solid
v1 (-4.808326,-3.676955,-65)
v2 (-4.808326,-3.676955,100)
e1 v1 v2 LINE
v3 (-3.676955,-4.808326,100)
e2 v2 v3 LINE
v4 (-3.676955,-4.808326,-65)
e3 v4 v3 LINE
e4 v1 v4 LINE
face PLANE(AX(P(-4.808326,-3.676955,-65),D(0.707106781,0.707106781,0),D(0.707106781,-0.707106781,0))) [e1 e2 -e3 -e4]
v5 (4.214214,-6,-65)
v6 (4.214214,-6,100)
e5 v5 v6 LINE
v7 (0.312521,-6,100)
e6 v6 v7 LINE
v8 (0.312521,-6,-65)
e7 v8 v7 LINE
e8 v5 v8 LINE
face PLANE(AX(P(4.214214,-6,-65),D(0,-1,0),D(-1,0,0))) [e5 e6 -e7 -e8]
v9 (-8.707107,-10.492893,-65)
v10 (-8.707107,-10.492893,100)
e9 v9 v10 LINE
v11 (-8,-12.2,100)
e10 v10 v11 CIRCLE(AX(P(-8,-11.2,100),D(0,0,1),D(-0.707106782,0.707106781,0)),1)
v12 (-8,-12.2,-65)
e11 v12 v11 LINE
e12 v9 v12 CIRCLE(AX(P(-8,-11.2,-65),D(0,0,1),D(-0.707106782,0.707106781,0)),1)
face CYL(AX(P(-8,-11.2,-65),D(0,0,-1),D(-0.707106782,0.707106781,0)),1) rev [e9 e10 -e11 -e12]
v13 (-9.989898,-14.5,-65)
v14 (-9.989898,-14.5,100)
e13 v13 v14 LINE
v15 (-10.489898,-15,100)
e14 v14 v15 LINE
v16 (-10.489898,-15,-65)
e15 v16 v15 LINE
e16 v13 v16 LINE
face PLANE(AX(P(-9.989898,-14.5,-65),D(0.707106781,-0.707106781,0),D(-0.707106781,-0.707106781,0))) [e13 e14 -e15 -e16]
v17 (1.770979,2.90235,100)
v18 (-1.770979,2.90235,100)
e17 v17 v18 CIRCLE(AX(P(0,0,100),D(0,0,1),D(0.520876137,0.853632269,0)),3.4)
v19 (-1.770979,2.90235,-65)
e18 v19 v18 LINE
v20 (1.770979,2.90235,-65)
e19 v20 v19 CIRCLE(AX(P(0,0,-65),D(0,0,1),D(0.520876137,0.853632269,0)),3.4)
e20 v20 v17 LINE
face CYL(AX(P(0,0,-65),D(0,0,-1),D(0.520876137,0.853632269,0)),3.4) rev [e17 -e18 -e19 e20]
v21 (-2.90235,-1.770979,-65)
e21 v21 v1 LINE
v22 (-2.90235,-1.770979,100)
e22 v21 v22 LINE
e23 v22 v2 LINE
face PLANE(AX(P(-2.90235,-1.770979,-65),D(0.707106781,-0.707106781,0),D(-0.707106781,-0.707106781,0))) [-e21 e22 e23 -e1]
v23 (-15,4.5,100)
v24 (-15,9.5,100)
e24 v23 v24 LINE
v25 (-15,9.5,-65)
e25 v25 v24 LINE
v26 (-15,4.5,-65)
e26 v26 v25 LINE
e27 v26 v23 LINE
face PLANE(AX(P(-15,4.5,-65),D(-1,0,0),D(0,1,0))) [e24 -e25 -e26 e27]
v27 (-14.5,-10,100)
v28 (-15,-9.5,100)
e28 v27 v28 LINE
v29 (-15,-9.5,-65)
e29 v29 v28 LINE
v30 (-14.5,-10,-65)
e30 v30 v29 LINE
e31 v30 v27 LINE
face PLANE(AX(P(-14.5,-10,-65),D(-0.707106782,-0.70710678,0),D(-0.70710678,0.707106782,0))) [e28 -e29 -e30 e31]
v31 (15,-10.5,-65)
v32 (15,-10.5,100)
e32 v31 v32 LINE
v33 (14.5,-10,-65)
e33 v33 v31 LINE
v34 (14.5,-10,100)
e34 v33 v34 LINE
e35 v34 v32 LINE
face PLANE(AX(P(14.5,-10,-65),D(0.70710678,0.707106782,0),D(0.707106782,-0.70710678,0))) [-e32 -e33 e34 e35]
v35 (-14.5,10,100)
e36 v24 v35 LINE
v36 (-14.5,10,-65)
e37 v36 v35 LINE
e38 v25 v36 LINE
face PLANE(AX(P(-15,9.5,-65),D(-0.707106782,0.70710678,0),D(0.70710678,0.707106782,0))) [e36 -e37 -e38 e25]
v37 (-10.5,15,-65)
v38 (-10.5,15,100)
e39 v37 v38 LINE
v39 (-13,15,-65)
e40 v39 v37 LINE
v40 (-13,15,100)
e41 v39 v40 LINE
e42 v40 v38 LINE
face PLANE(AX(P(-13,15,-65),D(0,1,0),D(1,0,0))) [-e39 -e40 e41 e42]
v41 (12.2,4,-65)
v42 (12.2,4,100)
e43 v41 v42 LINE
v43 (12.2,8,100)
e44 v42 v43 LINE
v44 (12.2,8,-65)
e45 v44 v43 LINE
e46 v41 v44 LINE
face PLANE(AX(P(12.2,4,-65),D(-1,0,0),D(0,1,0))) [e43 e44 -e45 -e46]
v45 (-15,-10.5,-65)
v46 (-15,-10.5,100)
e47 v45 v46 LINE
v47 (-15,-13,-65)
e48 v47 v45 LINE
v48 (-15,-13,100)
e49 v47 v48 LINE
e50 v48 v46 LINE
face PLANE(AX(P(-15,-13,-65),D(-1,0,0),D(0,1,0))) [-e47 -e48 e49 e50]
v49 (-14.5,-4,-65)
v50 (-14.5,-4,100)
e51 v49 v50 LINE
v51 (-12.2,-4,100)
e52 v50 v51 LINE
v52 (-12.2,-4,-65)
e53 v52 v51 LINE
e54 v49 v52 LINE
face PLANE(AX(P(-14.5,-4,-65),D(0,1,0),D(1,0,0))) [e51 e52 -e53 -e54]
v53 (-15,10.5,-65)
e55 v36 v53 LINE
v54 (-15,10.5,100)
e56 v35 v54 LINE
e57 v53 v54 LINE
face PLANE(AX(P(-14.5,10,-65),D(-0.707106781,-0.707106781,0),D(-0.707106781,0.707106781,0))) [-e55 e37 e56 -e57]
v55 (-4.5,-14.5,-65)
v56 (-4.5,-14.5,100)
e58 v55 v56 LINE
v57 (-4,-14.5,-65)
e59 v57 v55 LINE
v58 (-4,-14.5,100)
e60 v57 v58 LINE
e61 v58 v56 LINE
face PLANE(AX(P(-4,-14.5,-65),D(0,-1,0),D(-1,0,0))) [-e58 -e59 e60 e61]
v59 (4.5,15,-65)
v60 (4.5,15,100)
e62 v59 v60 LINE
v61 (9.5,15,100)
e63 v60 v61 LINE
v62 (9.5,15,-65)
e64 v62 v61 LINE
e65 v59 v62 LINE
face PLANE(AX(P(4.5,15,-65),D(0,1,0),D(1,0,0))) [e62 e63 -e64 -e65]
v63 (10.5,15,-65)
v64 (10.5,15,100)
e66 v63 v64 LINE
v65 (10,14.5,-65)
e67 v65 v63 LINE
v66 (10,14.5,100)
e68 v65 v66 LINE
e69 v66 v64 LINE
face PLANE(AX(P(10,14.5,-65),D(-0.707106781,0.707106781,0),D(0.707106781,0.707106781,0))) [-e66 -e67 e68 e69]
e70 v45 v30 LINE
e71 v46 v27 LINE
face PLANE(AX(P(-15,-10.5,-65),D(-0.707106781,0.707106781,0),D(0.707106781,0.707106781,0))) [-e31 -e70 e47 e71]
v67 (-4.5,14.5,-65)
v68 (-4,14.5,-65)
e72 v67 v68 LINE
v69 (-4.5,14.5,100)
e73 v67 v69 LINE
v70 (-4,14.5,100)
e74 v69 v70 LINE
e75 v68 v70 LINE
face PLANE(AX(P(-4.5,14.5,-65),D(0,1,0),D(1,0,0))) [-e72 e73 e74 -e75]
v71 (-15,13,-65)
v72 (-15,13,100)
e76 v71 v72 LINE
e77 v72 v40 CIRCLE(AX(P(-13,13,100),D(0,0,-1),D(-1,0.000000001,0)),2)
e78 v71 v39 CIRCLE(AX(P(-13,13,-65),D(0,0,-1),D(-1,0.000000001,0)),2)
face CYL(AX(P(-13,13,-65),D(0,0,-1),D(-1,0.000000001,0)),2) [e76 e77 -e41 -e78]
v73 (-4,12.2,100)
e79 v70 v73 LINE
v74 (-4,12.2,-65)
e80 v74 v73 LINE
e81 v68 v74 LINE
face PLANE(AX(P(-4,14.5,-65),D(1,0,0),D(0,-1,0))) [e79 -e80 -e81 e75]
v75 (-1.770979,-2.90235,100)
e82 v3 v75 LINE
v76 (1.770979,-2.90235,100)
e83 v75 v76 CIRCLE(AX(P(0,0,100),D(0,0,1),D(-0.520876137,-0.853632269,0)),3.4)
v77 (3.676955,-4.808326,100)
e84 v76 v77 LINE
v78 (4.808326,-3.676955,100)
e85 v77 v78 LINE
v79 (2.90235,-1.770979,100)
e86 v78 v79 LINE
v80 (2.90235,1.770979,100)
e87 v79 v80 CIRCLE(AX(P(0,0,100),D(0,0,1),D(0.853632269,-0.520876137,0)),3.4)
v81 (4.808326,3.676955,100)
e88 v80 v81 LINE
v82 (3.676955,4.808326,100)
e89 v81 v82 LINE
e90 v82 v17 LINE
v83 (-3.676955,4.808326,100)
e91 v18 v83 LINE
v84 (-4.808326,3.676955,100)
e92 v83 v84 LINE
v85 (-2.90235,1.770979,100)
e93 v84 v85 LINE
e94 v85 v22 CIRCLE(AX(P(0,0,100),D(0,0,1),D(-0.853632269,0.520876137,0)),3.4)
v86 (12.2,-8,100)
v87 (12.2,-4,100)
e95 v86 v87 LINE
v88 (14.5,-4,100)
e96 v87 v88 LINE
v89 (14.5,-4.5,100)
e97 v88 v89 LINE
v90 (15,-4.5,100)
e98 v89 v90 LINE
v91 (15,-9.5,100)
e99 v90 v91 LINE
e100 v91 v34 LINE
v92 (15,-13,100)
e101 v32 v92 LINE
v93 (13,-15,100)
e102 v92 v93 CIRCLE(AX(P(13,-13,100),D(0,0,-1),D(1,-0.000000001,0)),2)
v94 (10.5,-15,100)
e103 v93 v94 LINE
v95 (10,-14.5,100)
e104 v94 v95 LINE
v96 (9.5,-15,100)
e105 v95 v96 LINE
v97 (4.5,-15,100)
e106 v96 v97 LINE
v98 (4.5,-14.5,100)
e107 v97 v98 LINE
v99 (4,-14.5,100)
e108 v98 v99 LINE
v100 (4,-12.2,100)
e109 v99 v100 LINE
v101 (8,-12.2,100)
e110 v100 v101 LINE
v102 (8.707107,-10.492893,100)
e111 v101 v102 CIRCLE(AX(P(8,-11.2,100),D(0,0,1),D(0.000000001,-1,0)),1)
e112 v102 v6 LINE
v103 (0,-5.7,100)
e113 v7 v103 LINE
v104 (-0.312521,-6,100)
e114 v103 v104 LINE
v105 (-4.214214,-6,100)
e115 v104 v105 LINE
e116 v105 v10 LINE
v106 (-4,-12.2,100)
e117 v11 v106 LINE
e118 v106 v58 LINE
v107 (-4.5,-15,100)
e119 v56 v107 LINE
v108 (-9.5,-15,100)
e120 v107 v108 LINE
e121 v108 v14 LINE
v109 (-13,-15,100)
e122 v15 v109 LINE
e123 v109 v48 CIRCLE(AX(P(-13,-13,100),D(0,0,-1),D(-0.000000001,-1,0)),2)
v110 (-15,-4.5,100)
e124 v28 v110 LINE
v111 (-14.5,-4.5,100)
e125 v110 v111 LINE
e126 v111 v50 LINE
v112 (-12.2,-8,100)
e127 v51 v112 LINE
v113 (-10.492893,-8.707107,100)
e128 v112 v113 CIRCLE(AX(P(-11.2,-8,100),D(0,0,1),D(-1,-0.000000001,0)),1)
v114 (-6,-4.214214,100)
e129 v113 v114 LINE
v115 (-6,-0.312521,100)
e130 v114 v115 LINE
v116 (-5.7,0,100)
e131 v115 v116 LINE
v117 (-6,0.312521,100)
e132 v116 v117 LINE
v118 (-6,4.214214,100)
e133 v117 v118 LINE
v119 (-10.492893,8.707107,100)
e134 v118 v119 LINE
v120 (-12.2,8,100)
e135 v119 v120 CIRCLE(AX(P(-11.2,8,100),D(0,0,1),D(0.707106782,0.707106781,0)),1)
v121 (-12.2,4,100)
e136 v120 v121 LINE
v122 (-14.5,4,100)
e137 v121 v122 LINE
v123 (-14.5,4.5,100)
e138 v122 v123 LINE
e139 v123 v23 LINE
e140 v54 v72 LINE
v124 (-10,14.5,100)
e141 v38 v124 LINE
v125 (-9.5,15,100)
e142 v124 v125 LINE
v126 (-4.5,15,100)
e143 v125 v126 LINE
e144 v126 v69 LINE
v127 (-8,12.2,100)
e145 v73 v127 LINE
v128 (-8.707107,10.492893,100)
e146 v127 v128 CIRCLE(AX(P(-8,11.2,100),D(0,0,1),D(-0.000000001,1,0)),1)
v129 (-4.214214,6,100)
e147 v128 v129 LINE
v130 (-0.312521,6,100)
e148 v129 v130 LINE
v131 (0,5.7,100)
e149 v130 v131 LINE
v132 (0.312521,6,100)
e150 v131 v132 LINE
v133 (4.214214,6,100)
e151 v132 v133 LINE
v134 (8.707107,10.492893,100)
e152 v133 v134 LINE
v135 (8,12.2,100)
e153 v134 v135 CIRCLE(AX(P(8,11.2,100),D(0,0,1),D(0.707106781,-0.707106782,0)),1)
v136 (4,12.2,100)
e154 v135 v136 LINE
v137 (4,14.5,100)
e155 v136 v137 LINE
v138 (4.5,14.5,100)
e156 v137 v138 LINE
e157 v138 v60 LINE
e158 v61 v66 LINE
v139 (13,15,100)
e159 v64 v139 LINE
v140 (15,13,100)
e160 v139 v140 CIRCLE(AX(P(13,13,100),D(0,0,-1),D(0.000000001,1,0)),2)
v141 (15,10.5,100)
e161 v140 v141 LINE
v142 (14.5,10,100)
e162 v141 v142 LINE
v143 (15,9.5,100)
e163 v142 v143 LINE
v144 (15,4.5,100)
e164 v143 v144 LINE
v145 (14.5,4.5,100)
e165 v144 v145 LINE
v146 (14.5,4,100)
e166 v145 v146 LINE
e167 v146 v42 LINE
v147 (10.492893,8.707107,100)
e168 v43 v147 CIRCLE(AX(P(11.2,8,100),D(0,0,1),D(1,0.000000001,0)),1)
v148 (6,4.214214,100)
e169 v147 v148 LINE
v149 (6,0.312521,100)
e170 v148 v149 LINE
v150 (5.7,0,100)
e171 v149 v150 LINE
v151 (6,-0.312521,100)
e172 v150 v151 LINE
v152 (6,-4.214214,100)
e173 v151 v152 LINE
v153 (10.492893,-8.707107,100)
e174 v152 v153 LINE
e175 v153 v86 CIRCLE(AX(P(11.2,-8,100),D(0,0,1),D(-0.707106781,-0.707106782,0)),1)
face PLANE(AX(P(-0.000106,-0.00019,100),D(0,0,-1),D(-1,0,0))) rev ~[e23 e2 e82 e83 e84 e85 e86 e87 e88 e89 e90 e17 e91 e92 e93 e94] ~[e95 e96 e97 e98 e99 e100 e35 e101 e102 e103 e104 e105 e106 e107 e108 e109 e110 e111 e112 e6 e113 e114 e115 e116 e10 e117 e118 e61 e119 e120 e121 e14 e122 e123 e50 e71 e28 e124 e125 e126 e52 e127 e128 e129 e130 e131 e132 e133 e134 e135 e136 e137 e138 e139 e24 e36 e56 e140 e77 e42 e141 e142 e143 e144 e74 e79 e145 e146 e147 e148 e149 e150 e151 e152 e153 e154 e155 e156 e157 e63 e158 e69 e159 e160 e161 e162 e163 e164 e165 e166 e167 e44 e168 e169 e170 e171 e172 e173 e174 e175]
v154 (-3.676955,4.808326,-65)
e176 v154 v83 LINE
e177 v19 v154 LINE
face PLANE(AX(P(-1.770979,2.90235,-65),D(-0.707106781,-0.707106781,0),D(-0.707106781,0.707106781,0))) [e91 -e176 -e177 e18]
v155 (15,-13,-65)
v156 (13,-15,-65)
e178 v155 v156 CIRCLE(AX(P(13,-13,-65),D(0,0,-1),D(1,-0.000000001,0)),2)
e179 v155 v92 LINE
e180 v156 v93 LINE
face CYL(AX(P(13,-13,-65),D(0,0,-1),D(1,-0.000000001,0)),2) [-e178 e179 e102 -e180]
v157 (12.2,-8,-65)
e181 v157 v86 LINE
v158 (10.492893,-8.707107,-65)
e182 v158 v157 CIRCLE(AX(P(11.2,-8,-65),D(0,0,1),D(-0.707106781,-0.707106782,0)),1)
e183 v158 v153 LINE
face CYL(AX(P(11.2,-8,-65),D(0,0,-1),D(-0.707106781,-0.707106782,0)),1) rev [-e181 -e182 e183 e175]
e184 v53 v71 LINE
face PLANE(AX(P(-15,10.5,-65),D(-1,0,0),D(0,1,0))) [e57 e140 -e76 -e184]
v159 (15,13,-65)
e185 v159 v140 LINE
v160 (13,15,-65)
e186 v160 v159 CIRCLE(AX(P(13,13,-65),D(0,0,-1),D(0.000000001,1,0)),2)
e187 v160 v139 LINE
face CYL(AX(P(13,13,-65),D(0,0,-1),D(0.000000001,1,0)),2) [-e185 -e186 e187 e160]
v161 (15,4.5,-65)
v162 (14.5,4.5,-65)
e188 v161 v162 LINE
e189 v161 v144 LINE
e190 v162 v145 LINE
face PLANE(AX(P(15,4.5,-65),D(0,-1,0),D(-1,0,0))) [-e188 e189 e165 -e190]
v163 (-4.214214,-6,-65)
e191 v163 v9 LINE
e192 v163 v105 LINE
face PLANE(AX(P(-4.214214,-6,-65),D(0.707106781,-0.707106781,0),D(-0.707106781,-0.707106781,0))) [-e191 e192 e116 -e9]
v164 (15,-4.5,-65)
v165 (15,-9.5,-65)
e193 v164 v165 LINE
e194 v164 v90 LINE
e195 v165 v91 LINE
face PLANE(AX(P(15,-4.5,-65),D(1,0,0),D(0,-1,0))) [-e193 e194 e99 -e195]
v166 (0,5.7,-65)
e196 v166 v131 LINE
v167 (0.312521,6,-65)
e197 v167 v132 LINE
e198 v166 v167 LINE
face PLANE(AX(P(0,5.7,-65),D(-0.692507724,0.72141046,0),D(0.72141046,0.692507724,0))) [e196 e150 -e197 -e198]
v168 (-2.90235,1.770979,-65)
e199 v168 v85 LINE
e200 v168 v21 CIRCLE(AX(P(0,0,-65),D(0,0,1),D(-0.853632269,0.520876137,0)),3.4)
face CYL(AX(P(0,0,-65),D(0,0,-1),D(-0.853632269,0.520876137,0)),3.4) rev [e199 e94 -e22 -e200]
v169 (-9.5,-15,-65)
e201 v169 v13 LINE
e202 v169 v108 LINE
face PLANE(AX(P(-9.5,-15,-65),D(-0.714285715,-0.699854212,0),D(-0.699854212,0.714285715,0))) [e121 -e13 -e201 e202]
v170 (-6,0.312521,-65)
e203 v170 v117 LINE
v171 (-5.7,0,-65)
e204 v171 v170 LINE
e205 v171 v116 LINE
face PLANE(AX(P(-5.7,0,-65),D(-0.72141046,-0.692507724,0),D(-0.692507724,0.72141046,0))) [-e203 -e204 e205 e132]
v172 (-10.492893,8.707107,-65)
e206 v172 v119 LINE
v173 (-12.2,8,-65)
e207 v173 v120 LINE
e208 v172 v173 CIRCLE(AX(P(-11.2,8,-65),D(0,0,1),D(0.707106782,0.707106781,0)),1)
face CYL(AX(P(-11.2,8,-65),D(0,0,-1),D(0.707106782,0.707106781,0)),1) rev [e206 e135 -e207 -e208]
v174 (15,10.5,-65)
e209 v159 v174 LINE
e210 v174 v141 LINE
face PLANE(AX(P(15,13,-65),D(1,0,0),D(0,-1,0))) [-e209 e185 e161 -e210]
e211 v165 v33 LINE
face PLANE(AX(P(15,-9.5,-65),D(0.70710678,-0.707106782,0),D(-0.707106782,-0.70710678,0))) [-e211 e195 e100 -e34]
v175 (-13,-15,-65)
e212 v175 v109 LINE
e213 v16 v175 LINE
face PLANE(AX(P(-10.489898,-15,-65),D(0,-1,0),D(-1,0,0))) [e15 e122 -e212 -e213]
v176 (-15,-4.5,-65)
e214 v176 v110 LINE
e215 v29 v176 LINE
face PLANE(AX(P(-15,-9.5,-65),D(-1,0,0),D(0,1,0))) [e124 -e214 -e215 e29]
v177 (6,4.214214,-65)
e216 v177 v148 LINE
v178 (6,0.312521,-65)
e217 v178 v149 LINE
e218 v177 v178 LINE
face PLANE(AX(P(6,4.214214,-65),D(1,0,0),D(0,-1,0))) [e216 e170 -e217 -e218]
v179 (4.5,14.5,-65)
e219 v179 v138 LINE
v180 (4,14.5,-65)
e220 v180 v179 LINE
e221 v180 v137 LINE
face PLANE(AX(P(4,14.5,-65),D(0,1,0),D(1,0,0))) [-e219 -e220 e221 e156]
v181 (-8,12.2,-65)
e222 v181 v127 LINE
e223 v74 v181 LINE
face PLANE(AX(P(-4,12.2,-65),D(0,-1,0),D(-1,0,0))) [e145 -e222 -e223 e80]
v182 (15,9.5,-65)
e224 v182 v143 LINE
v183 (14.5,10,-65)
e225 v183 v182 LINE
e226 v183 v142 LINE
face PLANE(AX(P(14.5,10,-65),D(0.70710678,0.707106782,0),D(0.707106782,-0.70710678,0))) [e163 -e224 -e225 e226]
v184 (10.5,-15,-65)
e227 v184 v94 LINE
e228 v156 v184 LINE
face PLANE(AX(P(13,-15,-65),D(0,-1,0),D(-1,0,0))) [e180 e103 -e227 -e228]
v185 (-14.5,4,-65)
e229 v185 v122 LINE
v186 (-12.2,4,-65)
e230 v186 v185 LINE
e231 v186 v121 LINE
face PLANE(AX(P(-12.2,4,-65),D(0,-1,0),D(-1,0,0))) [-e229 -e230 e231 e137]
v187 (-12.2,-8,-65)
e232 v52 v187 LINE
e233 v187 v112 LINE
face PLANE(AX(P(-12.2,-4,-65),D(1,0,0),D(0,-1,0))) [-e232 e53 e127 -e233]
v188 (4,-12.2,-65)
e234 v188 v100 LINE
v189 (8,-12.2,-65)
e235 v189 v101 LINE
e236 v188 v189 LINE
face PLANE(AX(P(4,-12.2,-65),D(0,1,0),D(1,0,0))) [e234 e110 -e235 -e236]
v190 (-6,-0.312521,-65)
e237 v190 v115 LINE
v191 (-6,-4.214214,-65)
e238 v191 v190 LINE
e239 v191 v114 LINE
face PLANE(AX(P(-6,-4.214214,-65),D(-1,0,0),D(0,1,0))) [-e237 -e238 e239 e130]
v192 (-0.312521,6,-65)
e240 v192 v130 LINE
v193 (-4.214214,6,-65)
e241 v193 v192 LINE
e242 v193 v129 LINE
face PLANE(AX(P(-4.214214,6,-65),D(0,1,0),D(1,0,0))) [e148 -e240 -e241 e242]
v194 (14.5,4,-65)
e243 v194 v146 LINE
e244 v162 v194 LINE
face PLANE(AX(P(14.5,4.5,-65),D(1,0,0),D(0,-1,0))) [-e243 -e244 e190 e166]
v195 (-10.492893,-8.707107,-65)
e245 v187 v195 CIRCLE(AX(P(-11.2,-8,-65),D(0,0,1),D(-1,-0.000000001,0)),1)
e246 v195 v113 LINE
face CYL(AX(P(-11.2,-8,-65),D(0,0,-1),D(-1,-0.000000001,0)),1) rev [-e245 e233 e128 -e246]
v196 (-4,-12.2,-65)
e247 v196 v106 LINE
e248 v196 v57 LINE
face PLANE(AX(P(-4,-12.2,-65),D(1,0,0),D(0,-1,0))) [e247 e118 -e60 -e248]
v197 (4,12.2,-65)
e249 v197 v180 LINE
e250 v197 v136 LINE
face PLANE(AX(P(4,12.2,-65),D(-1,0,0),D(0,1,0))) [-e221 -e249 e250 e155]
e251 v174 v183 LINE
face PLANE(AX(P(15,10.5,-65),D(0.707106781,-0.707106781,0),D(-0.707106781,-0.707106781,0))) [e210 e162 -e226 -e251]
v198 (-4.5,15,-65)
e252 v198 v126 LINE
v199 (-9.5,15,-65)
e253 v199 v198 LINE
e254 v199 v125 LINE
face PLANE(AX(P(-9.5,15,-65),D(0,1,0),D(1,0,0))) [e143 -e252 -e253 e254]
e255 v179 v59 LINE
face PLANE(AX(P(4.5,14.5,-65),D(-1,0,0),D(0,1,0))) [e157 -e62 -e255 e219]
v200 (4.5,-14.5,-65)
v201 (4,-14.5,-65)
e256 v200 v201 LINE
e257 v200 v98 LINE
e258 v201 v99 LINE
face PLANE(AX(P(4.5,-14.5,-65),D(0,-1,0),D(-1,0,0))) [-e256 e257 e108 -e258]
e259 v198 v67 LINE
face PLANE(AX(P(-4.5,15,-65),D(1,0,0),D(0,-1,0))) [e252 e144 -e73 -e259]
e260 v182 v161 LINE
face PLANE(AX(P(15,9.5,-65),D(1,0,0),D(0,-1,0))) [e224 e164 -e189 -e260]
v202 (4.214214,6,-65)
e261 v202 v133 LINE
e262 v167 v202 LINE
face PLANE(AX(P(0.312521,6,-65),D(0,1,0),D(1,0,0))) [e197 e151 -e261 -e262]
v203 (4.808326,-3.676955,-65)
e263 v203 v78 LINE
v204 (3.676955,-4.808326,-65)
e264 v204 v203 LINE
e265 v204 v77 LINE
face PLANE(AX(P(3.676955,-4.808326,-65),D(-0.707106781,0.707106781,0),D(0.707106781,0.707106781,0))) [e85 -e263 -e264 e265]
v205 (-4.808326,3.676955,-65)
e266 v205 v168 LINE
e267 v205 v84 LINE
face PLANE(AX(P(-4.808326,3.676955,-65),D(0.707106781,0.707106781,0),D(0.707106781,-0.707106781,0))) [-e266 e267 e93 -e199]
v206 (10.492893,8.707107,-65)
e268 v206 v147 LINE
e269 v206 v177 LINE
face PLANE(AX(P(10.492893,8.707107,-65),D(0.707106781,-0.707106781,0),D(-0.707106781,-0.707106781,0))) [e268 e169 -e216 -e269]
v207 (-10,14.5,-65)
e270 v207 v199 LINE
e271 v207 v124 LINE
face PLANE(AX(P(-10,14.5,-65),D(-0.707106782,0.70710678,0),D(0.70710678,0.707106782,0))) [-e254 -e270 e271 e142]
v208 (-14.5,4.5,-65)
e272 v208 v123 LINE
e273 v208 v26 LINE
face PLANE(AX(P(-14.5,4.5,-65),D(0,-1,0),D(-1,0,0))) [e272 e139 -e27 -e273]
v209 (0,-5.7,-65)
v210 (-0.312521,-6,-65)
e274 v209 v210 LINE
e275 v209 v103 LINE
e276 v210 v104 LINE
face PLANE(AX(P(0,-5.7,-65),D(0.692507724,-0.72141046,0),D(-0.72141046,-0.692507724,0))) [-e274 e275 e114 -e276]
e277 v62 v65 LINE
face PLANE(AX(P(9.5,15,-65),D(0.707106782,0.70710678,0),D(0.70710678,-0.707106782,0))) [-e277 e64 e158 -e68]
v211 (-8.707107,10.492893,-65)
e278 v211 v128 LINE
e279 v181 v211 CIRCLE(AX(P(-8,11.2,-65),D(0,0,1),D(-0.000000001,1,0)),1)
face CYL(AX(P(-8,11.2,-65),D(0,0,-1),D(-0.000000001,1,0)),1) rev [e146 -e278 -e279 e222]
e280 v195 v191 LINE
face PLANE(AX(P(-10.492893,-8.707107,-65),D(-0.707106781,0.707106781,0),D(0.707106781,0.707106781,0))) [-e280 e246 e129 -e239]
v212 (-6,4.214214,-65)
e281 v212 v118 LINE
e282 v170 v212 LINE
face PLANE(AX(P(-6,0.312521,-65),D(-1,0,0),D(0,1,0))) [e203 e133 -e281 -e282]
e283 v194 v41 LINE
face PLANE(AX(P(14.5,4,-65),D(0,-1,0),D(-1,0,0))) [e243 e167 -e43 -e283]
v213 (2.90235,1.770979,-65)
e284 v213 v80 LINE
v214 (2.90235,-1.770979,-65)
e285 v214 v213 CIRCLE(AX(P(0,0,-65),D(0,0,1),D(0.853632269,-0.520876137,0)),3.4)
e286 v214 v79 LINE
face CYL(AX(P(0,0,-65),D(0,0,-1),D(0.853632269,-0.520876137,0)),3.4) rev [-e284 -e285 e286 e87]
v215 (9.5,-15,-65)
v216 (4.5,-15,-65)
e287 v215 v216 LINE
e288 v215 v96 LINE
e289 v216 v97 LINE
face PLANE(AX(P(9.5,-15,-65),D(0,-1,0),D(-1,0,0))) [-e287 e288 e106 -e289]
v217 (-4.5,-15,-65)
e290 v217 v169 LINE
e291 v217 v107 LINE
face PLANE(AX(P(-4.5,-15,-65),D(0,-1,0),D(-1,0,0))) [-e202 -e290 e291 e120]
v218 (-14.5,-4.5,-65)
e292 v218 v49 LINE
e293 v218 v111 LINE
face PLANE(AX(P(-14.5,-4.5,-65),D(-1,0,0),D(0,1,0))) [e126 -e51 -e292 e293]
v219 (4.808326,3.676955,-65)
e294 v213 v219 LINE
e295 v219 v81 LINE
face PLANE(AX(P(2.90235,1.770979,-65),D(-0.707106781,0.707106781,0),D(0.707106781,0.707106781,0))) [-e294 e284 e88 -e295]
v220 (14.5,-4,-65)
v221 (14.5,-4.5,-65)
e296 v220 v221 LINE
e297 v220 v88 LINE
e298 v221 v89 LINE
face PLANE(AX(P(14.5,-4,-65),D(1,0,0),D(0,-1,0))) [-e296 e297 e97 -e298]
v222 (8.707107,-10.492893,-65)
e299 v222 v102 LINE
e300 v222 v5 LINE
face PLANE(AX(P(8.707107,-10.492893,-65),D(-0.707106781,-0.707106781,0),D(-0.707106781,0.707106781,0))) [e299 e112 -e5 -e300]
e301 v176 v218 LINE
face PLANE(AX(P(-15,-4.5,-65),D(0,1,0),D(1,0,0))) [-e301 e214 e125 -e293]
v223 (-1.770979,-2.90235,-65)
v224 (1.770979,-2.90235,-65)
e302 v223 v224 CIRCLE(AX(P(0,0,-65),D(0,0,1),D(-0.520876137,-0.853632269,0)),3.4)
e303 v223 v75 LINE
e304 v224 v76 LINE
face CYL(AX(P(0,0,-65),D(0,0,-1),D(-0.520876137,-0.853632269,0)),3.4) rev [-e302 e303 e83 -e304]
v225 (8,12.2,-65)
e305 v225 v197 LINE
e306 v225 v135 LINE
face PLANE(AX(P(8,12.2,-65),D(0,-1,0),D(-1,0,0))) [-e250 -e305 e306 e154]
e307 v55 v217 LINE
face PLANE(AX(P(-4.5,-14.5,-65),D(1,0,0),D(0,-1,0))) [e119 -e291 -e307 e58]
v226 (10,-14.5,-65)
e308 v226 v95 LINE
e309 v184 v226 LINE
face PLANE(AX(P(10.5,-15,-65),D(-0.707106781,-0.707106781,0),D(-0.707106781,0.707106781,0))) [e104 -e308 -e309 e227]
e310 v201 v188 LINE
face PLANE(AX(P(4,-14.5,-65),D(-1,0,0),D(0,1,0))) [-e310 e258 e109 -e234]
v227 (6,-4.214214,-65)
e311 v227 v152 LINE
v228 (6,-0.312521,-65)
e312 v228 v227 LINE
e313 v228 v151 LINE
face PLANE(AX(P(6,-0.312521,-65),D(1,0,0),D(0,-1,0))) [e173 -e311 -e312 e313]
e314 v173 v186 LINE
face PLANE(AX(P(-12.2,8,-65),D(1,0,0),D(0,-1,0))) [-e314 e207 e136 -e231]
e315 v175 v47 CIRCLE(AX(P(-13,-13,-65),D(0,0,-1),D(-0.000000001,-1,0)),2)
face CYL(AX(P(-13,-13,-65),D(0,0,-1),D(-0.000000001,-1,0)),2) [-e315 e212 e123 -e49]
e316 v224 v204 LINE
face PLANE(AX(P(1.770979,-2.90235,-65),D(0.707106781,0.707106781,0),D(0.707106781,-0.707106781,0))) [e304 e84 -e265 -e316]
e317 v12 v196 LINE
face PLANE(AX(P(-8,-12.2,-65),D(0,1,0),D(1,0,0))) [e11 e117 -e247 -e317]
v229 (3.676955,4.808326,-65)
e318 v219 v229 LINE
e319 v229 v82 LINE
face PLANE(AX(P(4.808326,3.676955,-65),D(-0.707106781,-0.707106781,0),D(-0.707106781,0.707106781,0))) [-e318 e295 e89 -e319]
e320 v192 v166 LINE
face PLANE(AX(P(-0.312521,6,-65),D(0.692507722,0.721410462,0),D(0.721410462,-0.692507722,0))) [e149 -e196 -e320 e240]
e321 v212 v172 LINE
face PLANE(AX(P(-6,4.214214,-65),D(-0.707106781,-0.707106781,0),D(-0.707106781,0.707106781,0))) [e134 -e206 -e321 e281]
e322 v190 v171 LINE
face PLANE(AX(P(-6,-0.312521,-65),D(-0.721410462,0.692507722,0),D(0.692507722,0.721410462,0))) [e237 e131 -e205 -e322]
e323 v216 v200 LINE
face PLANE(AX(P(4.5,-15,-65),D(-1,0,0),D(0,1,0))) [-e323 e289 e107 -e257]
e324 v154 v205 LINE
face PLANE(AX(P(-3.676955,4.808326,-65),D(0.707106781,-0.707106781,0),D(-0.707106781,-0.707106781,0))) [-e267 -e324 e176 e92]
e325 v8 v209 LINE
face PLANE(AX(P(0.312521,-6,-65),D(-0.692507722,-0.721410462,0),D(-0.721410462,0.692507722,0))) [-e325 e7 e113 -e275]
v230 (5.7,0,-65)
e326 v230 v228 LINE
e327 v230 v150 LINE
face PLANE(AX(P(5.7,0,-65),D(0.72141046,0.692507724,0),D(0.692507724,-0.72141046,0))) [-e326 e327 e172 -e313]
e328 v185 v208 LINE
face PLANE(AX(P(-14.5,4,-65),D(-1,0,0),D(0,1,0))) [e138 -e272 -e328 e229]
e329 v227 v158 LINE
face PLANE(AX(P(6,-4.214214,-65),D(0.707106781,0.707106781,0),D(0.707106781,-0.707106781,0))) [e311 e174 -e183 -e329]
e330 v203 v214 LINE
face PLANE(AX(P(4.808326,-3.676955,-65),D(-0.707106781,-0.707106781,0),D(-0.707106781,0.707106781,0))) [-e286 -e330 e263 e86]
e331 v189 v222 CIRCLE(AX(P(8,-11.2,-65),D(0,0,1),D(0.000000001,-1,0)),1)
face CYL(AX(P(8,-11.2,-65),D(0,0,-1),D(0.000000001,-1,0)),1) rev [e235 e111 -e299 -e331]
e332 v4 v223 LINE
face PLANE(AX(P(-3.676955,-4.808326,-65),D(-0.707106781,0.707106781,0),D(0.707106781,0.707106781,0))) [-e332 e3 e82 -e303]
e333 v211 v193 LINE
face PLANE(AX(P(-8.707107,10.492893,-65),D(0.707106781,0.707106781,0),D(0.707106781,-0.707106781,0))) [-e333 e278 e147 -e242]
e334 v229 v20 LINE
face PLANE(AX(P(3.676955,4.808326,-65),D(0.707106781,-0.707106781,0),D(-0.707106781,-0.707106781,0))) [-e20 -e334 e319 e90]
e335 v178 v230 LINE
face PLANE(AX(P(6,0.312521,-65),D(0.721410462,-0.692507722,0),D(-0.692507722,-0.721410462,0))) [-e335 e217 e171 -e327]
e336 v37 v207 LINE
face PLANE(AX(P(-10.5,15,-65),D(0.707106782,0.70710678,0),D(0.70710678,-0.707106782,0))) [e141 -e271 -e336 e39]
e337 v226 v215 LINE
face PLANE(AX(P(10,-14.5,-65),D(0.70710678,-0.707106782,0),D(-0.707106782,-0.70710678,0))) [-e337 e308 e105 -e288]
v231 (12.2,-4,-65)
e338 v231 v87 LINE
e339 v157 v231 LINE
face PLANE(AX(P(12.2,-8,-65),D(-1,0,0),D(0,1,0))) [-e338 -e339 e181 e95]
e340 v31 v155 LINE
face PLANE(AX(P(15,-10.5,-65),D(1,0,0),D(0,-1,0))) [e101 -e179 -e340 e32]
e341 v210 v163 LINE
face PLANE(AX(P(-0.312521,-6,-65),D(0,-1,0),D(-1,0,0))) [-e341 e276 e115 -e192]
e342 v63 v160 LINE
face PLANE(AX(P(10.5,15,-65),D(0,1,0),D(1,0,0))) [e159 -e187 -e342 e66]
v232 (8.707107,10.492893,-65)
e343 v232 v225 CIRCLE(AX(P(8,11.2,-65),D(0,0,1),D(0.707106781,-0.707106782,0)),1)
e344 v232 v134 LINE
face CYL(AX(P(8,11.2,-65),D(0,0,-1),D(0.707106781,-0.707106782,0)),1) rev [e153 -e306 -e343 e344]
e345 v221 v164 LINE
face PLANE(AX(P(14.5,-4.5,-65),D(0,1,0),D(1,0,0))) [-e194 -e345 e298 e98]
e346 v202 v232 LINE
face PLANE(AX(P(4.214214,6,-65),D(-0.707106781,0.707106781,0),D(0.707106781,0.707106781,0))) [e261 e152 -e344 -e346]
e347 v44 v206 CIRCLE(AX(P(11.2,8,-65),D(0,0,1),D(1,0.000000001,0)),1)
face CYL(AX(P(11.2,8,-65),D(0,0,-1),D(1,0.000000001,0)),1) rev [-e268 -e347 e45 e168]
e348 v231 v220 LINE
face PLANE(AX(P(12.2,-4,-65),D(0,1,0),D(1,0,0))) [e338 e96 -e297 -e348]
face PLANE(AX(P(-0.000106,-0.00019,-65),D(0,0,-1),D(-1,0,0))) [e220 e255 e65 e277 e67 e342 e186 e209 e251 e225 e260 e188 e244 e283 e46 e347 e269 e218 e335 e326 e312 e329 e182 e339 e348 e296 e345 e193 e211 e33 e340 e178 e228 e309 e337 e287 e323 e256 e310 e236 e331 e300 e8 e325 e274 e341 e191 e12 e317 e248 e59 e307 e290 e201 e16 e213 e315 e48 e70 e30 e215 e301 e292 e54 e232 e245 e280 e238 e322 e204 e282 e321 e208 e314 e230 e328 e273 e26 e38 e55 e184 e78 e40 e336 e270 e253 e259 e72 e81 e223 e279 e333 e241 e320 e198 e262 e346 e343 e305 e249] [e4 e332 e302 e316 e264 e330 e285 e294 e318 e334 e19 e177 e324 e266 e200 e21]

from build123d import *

# Parameters (mm, degrees)
BOSS_EXTRUDE1_DEPTH = 165


with BuildPart() as part:
    # Sketch1 → Boss-Extrude1 (new body)
    with BuildSketch(Plane(origin=(0, 0, -65), x_dir=(-1, 0, 0), z_dir=(0, 0, -1))):
        with BuildLine():
            Line((-14.999999999, 12.999999999), (-14.999999999, 10.499999999))
            Line((-14.999999999, 10.499999999), (-14.499999999, 9.999999999))
            Line((-14.499999999, 9.999999999), (-14.999999999, 9.5))
            Line((-14.999999999, 9.5), (-14.999999999, 4.5))
            Line((-14.999999999, 4.5), (-14.5, 4.5))
            Line((-14.5, 4.5), (-14.5, 4))
            Line((-14.5, 4), (-12.200000005, 4))
            Line((-12.200000005, 4), (-12.200000005, 7.999999995))
            ThreePointArc((-12.200000005, 7.999999995), (-11.582683434, 8.923879532), (-10.492893215, 8.70710678))
            Line((-10.492893215, 8.70710678), (-6, 4.214213564))
            Line((-6, 4.214213564), (-6, 0.312520903))
            Line((-6, 0.312520903), (-5.7, 0))
            Line((-5.7, 0), (-6, -0.312520901))
            Line((-6, -0.312520901), (-6, -4.214213564))
            Line((-6, -4.214213564), (-10.492893215, -8.70710678))
            ThreePointArc((-10.492893215, -8.70710678), (-11.582683434, -8.923879532), (-12.200000005, -7.999999995))
            Line((-12.200000005, -7.999999995), (-12.200000005, -4))
            Line((-12.200000005, -4), (-14.5, -4))
            Line((-14.5, -4), (-14.5, -4.5))
            Line((-14.5, -4.5), (-14.999999999, -4.5))
            Line((-14.999999999, -4.5), (-14.999999999, -9.500000003))
            Line((-14.999999999, -9.500000003), (-14.499999999, -10.000000002))
            Line((-14.499999999, -10.000000002), (-14.999999999, -10.500000001))
            Line((-14.999999999, -10.500000001), (-14.999999999, -13))
            ThreePointArc((-14.999999999, -13), (-14.414213561, -14.414213562), (-12.999999999, -15))
            Line((-12.999999999, -15), (-10.5, -15))
            Line((-10.5, -15), (-10.000000001, -14.500000001))
            Line((-10.000000001, -14.500000001), (-9.500000001, -15))
            Line((-9.500000001, -15), (-4.5, -15))
            Line((-4.5, -15), (-4.5, -14.5))
            Line((-4.5, -14.5), (-4, -14.5))
            Line((-4, -14.5), (-4, -12.200000005))
            Line((-4, -12.200000005), (-7.999999995, -12.200000005))
            ThreePointArc((-7.999999995, -12.200000005), (-8.923879532, -11.582683434), (-8.70710678, -10.492893215))
            Line((-8.70710678, -10.492893215), (-4.214213564, -6))
            Line((-4.214213564, -6), (-0.312520903, -6))
            Line((-0.312520903, -6), (0, -5.7))
            Line((0, -5.7), (0.312520901, -6))
            Line((0.312520901, -6), (4.214213564, -6))
            Line((4.214213564, -6), (8.70710678, -10.492893215))
            ThreePointArc((8.70710678, -10.492893215), (8.923879532, -11.582683434), (7.999999995, -12.200000005))
            Line((7.999999995, -12.200000005), (4, -12.200000005))
            Line((4, -12.200000005), (4, -14.5))
            Line((4, -14.5), (4.5, -14.5))
            Line((4.5, -14.5), (4.5, -15))
            Line((4.5, -15), (9.500000001, -15))
            Line((9.500000001, -15), (9.989897949, -14.5))
            Line((9.989897949, -14.5), (10.489897949, -15))
            Line((10.489897949, -15), (13, -15))
            ThreePointArc((13, -15), (14.414213562, -14.414213562), (15, -13))
            Line((15, -13), (15, -10.5))
            Line((15, -10.5), (14.500000001, -10.000000001))
            Line((14.500000001, -10.000000001), (15, -9.500000001))
            Line((15, -9.500000001), (15, -4.5))
            Line((15, -4.5), (14.5, -4.5))
            Line((14.5, -4.5), (14.5, -4))
            Line((14.5, -4), (12.200000005, -4))
            Line((12.200000005, -4), (12.200000005, -7.999999995))
            ThreePointArc((12.200000005, -7.999999995), (11.582683434, -8.923879532), (10.492893215, -8.70710678))
            Line((10.492893215, -8.70710678), (6, -4.214213564))
            Line((6, -4.214213564), (6, -0.312520903))
            Line((6, -0.312520903), (5.7, 0))
            Line((5.7, 0), (6, 0.312520901))
            Line((6, 0.312520901), (6, 4.214213564))
            Line((6, 4.214213564), (10.492893215, 8.707106779))
            ThreePointArc((10.492893215, 8.707106779), (11.582683434, 8.923879532), (12.200000005, 7.999999994))
            Line((12.200000005, 7.999999994), (12.200000005, 4))
            Line((12.200000005, 4), (14.5, 4))
            Line((14.5, 4), (14.5, 4.5))
            Line((14.5, 4.5), (15, 4.5))
            Line((15, 4.5), (15, 9.500000001))
            Line((15, 9.500000001), (14.500000001, 10.000000001))
            Line((14.500000001, 10.000000001), (15, 10.5))
            Line((15, 10.5), (15, 12.999999999))
            ThreePointArc((15, 12.999999999), (14.414213562, 14.414213561), (13, 14.999999999))
            Line((13, 14.999999999), (10.500000001, 14.999999999))
            Line((10.500000001, 14.999999999), (10.000000002, 14.499999999))
            Line((10.000000002, 14.499999999), (9.500000003, 14.999999999))
            Line((9.500000003, 14.999999999), (4.5, 14.999999999))
            Line((4.5, 14.999999999), (4.5, 14.5))
            Line((4.5, 14.5), (4, 14.5))
            Line((4, 14.5), (4, 12.200000005))
            Line((4, 12.200000005), (7.999999995, 12.200000005))
            ThreePointArc((7.999999995, 12.200000005), (8.923879532, 11.582683434), (8.70710678, 10.492893215))
            Line((8.70710678, 10.492893215), (4.214213564, 6))
            Line((4.214213564, 6), (0.312520903, 6))
            Line((0.312520903, 6), (0, 5.7))
            Line((0, 5.7), (-0.312520901, 6))
            Line((-0.312520901, 6), (-4.214213564, 6))
            Line((-4.214213564, 6), (-8.707106779, 10.492893215))
            ThreePointArc((-8.707106779, 10.492893215), (-8.923879532, 11.582683434), (-7.999999994, 12.200000005))
            Line((-7.999999994, 12.200000005), (-4, 12.200000005))
            Line((-4, 12.200000005), (-4, 14.5))
            Line((-4, 14.5), (-4.5, 14.5))
            Line((-4.5, 14.5), (-4.5, 14.999999999))
            Line((-4.5, 14.999999999), (-9.5, 14.999999999))
            Line((-9.5, 14.999999999), (-9.999999999, 14.499999999))
            Line((-9.999999999, 14.499999999), (-10.499999999, 14.999999999))
            Line((-10.499999999, 14.999999999), (-12.999999999, 14.999999999))
            ThreePointArc((-12.999999999, 14.999999999), (-14.414213561, 14.414213561), (-14.999999999, 12.999999999))
        make_face()
        with BuildLine():
            Line((4.808326112, 3.676955262), (2.902349714, 1.770978864))
            ThreePointArc((2.902349714, 1.770978864), (3.4, 0), (2.902349714, -1.770978864))
            Line((2.902349714, -1.770978864), (4.808326112, -3.676955262))
            Line((4.808326112, -3.676955262), (3.676955262, -4.808326112))
            Line((3.676955262, -4.808326112), (1.770978864, -2.902349714))
            ThreePointArc((1.770978864, -2.902349714), (0, -3.4), (-1.770978864, -2.902349714))
            Line((-1.770978864, -2.902349714), (-3.676955262, -4.808326112))
            Line((-3.676955262, -4.808326112), (-4.808326112, -3.676955262))
            Line((-4.808326112, -3.676955262), (-2.902349714, -1.770978864))
            ThreePointArc((-2.902349714, -1.770978864), (-3.4, 0), (-2.902349714, 1.770978864))
            Line((-2.902349714, 1.770978864), (-4.808326112, 3.676955262))
            Line((-4.808326112, 3.676955262), (-3.676955262, 4.808326112))
            Line((-3.676955262, 4.808326112), (-1.770978864, 2.902349714))
            ThreePointArc((-1.770978864, 2.902349714), (0, 3.4), (1.770978864, 2.902349714))
            Line((1.770978864, 2.902349714), (3.676955262, 4.808326112))
            Line((3.676955262, 4.808326112), (4.808326112, 3.676955262))
        make_face(mode=Mode.SUBTRACT)
    extrude(amount=-BOSS_EXTRUDE1_DEPTH)


solid = part.part
